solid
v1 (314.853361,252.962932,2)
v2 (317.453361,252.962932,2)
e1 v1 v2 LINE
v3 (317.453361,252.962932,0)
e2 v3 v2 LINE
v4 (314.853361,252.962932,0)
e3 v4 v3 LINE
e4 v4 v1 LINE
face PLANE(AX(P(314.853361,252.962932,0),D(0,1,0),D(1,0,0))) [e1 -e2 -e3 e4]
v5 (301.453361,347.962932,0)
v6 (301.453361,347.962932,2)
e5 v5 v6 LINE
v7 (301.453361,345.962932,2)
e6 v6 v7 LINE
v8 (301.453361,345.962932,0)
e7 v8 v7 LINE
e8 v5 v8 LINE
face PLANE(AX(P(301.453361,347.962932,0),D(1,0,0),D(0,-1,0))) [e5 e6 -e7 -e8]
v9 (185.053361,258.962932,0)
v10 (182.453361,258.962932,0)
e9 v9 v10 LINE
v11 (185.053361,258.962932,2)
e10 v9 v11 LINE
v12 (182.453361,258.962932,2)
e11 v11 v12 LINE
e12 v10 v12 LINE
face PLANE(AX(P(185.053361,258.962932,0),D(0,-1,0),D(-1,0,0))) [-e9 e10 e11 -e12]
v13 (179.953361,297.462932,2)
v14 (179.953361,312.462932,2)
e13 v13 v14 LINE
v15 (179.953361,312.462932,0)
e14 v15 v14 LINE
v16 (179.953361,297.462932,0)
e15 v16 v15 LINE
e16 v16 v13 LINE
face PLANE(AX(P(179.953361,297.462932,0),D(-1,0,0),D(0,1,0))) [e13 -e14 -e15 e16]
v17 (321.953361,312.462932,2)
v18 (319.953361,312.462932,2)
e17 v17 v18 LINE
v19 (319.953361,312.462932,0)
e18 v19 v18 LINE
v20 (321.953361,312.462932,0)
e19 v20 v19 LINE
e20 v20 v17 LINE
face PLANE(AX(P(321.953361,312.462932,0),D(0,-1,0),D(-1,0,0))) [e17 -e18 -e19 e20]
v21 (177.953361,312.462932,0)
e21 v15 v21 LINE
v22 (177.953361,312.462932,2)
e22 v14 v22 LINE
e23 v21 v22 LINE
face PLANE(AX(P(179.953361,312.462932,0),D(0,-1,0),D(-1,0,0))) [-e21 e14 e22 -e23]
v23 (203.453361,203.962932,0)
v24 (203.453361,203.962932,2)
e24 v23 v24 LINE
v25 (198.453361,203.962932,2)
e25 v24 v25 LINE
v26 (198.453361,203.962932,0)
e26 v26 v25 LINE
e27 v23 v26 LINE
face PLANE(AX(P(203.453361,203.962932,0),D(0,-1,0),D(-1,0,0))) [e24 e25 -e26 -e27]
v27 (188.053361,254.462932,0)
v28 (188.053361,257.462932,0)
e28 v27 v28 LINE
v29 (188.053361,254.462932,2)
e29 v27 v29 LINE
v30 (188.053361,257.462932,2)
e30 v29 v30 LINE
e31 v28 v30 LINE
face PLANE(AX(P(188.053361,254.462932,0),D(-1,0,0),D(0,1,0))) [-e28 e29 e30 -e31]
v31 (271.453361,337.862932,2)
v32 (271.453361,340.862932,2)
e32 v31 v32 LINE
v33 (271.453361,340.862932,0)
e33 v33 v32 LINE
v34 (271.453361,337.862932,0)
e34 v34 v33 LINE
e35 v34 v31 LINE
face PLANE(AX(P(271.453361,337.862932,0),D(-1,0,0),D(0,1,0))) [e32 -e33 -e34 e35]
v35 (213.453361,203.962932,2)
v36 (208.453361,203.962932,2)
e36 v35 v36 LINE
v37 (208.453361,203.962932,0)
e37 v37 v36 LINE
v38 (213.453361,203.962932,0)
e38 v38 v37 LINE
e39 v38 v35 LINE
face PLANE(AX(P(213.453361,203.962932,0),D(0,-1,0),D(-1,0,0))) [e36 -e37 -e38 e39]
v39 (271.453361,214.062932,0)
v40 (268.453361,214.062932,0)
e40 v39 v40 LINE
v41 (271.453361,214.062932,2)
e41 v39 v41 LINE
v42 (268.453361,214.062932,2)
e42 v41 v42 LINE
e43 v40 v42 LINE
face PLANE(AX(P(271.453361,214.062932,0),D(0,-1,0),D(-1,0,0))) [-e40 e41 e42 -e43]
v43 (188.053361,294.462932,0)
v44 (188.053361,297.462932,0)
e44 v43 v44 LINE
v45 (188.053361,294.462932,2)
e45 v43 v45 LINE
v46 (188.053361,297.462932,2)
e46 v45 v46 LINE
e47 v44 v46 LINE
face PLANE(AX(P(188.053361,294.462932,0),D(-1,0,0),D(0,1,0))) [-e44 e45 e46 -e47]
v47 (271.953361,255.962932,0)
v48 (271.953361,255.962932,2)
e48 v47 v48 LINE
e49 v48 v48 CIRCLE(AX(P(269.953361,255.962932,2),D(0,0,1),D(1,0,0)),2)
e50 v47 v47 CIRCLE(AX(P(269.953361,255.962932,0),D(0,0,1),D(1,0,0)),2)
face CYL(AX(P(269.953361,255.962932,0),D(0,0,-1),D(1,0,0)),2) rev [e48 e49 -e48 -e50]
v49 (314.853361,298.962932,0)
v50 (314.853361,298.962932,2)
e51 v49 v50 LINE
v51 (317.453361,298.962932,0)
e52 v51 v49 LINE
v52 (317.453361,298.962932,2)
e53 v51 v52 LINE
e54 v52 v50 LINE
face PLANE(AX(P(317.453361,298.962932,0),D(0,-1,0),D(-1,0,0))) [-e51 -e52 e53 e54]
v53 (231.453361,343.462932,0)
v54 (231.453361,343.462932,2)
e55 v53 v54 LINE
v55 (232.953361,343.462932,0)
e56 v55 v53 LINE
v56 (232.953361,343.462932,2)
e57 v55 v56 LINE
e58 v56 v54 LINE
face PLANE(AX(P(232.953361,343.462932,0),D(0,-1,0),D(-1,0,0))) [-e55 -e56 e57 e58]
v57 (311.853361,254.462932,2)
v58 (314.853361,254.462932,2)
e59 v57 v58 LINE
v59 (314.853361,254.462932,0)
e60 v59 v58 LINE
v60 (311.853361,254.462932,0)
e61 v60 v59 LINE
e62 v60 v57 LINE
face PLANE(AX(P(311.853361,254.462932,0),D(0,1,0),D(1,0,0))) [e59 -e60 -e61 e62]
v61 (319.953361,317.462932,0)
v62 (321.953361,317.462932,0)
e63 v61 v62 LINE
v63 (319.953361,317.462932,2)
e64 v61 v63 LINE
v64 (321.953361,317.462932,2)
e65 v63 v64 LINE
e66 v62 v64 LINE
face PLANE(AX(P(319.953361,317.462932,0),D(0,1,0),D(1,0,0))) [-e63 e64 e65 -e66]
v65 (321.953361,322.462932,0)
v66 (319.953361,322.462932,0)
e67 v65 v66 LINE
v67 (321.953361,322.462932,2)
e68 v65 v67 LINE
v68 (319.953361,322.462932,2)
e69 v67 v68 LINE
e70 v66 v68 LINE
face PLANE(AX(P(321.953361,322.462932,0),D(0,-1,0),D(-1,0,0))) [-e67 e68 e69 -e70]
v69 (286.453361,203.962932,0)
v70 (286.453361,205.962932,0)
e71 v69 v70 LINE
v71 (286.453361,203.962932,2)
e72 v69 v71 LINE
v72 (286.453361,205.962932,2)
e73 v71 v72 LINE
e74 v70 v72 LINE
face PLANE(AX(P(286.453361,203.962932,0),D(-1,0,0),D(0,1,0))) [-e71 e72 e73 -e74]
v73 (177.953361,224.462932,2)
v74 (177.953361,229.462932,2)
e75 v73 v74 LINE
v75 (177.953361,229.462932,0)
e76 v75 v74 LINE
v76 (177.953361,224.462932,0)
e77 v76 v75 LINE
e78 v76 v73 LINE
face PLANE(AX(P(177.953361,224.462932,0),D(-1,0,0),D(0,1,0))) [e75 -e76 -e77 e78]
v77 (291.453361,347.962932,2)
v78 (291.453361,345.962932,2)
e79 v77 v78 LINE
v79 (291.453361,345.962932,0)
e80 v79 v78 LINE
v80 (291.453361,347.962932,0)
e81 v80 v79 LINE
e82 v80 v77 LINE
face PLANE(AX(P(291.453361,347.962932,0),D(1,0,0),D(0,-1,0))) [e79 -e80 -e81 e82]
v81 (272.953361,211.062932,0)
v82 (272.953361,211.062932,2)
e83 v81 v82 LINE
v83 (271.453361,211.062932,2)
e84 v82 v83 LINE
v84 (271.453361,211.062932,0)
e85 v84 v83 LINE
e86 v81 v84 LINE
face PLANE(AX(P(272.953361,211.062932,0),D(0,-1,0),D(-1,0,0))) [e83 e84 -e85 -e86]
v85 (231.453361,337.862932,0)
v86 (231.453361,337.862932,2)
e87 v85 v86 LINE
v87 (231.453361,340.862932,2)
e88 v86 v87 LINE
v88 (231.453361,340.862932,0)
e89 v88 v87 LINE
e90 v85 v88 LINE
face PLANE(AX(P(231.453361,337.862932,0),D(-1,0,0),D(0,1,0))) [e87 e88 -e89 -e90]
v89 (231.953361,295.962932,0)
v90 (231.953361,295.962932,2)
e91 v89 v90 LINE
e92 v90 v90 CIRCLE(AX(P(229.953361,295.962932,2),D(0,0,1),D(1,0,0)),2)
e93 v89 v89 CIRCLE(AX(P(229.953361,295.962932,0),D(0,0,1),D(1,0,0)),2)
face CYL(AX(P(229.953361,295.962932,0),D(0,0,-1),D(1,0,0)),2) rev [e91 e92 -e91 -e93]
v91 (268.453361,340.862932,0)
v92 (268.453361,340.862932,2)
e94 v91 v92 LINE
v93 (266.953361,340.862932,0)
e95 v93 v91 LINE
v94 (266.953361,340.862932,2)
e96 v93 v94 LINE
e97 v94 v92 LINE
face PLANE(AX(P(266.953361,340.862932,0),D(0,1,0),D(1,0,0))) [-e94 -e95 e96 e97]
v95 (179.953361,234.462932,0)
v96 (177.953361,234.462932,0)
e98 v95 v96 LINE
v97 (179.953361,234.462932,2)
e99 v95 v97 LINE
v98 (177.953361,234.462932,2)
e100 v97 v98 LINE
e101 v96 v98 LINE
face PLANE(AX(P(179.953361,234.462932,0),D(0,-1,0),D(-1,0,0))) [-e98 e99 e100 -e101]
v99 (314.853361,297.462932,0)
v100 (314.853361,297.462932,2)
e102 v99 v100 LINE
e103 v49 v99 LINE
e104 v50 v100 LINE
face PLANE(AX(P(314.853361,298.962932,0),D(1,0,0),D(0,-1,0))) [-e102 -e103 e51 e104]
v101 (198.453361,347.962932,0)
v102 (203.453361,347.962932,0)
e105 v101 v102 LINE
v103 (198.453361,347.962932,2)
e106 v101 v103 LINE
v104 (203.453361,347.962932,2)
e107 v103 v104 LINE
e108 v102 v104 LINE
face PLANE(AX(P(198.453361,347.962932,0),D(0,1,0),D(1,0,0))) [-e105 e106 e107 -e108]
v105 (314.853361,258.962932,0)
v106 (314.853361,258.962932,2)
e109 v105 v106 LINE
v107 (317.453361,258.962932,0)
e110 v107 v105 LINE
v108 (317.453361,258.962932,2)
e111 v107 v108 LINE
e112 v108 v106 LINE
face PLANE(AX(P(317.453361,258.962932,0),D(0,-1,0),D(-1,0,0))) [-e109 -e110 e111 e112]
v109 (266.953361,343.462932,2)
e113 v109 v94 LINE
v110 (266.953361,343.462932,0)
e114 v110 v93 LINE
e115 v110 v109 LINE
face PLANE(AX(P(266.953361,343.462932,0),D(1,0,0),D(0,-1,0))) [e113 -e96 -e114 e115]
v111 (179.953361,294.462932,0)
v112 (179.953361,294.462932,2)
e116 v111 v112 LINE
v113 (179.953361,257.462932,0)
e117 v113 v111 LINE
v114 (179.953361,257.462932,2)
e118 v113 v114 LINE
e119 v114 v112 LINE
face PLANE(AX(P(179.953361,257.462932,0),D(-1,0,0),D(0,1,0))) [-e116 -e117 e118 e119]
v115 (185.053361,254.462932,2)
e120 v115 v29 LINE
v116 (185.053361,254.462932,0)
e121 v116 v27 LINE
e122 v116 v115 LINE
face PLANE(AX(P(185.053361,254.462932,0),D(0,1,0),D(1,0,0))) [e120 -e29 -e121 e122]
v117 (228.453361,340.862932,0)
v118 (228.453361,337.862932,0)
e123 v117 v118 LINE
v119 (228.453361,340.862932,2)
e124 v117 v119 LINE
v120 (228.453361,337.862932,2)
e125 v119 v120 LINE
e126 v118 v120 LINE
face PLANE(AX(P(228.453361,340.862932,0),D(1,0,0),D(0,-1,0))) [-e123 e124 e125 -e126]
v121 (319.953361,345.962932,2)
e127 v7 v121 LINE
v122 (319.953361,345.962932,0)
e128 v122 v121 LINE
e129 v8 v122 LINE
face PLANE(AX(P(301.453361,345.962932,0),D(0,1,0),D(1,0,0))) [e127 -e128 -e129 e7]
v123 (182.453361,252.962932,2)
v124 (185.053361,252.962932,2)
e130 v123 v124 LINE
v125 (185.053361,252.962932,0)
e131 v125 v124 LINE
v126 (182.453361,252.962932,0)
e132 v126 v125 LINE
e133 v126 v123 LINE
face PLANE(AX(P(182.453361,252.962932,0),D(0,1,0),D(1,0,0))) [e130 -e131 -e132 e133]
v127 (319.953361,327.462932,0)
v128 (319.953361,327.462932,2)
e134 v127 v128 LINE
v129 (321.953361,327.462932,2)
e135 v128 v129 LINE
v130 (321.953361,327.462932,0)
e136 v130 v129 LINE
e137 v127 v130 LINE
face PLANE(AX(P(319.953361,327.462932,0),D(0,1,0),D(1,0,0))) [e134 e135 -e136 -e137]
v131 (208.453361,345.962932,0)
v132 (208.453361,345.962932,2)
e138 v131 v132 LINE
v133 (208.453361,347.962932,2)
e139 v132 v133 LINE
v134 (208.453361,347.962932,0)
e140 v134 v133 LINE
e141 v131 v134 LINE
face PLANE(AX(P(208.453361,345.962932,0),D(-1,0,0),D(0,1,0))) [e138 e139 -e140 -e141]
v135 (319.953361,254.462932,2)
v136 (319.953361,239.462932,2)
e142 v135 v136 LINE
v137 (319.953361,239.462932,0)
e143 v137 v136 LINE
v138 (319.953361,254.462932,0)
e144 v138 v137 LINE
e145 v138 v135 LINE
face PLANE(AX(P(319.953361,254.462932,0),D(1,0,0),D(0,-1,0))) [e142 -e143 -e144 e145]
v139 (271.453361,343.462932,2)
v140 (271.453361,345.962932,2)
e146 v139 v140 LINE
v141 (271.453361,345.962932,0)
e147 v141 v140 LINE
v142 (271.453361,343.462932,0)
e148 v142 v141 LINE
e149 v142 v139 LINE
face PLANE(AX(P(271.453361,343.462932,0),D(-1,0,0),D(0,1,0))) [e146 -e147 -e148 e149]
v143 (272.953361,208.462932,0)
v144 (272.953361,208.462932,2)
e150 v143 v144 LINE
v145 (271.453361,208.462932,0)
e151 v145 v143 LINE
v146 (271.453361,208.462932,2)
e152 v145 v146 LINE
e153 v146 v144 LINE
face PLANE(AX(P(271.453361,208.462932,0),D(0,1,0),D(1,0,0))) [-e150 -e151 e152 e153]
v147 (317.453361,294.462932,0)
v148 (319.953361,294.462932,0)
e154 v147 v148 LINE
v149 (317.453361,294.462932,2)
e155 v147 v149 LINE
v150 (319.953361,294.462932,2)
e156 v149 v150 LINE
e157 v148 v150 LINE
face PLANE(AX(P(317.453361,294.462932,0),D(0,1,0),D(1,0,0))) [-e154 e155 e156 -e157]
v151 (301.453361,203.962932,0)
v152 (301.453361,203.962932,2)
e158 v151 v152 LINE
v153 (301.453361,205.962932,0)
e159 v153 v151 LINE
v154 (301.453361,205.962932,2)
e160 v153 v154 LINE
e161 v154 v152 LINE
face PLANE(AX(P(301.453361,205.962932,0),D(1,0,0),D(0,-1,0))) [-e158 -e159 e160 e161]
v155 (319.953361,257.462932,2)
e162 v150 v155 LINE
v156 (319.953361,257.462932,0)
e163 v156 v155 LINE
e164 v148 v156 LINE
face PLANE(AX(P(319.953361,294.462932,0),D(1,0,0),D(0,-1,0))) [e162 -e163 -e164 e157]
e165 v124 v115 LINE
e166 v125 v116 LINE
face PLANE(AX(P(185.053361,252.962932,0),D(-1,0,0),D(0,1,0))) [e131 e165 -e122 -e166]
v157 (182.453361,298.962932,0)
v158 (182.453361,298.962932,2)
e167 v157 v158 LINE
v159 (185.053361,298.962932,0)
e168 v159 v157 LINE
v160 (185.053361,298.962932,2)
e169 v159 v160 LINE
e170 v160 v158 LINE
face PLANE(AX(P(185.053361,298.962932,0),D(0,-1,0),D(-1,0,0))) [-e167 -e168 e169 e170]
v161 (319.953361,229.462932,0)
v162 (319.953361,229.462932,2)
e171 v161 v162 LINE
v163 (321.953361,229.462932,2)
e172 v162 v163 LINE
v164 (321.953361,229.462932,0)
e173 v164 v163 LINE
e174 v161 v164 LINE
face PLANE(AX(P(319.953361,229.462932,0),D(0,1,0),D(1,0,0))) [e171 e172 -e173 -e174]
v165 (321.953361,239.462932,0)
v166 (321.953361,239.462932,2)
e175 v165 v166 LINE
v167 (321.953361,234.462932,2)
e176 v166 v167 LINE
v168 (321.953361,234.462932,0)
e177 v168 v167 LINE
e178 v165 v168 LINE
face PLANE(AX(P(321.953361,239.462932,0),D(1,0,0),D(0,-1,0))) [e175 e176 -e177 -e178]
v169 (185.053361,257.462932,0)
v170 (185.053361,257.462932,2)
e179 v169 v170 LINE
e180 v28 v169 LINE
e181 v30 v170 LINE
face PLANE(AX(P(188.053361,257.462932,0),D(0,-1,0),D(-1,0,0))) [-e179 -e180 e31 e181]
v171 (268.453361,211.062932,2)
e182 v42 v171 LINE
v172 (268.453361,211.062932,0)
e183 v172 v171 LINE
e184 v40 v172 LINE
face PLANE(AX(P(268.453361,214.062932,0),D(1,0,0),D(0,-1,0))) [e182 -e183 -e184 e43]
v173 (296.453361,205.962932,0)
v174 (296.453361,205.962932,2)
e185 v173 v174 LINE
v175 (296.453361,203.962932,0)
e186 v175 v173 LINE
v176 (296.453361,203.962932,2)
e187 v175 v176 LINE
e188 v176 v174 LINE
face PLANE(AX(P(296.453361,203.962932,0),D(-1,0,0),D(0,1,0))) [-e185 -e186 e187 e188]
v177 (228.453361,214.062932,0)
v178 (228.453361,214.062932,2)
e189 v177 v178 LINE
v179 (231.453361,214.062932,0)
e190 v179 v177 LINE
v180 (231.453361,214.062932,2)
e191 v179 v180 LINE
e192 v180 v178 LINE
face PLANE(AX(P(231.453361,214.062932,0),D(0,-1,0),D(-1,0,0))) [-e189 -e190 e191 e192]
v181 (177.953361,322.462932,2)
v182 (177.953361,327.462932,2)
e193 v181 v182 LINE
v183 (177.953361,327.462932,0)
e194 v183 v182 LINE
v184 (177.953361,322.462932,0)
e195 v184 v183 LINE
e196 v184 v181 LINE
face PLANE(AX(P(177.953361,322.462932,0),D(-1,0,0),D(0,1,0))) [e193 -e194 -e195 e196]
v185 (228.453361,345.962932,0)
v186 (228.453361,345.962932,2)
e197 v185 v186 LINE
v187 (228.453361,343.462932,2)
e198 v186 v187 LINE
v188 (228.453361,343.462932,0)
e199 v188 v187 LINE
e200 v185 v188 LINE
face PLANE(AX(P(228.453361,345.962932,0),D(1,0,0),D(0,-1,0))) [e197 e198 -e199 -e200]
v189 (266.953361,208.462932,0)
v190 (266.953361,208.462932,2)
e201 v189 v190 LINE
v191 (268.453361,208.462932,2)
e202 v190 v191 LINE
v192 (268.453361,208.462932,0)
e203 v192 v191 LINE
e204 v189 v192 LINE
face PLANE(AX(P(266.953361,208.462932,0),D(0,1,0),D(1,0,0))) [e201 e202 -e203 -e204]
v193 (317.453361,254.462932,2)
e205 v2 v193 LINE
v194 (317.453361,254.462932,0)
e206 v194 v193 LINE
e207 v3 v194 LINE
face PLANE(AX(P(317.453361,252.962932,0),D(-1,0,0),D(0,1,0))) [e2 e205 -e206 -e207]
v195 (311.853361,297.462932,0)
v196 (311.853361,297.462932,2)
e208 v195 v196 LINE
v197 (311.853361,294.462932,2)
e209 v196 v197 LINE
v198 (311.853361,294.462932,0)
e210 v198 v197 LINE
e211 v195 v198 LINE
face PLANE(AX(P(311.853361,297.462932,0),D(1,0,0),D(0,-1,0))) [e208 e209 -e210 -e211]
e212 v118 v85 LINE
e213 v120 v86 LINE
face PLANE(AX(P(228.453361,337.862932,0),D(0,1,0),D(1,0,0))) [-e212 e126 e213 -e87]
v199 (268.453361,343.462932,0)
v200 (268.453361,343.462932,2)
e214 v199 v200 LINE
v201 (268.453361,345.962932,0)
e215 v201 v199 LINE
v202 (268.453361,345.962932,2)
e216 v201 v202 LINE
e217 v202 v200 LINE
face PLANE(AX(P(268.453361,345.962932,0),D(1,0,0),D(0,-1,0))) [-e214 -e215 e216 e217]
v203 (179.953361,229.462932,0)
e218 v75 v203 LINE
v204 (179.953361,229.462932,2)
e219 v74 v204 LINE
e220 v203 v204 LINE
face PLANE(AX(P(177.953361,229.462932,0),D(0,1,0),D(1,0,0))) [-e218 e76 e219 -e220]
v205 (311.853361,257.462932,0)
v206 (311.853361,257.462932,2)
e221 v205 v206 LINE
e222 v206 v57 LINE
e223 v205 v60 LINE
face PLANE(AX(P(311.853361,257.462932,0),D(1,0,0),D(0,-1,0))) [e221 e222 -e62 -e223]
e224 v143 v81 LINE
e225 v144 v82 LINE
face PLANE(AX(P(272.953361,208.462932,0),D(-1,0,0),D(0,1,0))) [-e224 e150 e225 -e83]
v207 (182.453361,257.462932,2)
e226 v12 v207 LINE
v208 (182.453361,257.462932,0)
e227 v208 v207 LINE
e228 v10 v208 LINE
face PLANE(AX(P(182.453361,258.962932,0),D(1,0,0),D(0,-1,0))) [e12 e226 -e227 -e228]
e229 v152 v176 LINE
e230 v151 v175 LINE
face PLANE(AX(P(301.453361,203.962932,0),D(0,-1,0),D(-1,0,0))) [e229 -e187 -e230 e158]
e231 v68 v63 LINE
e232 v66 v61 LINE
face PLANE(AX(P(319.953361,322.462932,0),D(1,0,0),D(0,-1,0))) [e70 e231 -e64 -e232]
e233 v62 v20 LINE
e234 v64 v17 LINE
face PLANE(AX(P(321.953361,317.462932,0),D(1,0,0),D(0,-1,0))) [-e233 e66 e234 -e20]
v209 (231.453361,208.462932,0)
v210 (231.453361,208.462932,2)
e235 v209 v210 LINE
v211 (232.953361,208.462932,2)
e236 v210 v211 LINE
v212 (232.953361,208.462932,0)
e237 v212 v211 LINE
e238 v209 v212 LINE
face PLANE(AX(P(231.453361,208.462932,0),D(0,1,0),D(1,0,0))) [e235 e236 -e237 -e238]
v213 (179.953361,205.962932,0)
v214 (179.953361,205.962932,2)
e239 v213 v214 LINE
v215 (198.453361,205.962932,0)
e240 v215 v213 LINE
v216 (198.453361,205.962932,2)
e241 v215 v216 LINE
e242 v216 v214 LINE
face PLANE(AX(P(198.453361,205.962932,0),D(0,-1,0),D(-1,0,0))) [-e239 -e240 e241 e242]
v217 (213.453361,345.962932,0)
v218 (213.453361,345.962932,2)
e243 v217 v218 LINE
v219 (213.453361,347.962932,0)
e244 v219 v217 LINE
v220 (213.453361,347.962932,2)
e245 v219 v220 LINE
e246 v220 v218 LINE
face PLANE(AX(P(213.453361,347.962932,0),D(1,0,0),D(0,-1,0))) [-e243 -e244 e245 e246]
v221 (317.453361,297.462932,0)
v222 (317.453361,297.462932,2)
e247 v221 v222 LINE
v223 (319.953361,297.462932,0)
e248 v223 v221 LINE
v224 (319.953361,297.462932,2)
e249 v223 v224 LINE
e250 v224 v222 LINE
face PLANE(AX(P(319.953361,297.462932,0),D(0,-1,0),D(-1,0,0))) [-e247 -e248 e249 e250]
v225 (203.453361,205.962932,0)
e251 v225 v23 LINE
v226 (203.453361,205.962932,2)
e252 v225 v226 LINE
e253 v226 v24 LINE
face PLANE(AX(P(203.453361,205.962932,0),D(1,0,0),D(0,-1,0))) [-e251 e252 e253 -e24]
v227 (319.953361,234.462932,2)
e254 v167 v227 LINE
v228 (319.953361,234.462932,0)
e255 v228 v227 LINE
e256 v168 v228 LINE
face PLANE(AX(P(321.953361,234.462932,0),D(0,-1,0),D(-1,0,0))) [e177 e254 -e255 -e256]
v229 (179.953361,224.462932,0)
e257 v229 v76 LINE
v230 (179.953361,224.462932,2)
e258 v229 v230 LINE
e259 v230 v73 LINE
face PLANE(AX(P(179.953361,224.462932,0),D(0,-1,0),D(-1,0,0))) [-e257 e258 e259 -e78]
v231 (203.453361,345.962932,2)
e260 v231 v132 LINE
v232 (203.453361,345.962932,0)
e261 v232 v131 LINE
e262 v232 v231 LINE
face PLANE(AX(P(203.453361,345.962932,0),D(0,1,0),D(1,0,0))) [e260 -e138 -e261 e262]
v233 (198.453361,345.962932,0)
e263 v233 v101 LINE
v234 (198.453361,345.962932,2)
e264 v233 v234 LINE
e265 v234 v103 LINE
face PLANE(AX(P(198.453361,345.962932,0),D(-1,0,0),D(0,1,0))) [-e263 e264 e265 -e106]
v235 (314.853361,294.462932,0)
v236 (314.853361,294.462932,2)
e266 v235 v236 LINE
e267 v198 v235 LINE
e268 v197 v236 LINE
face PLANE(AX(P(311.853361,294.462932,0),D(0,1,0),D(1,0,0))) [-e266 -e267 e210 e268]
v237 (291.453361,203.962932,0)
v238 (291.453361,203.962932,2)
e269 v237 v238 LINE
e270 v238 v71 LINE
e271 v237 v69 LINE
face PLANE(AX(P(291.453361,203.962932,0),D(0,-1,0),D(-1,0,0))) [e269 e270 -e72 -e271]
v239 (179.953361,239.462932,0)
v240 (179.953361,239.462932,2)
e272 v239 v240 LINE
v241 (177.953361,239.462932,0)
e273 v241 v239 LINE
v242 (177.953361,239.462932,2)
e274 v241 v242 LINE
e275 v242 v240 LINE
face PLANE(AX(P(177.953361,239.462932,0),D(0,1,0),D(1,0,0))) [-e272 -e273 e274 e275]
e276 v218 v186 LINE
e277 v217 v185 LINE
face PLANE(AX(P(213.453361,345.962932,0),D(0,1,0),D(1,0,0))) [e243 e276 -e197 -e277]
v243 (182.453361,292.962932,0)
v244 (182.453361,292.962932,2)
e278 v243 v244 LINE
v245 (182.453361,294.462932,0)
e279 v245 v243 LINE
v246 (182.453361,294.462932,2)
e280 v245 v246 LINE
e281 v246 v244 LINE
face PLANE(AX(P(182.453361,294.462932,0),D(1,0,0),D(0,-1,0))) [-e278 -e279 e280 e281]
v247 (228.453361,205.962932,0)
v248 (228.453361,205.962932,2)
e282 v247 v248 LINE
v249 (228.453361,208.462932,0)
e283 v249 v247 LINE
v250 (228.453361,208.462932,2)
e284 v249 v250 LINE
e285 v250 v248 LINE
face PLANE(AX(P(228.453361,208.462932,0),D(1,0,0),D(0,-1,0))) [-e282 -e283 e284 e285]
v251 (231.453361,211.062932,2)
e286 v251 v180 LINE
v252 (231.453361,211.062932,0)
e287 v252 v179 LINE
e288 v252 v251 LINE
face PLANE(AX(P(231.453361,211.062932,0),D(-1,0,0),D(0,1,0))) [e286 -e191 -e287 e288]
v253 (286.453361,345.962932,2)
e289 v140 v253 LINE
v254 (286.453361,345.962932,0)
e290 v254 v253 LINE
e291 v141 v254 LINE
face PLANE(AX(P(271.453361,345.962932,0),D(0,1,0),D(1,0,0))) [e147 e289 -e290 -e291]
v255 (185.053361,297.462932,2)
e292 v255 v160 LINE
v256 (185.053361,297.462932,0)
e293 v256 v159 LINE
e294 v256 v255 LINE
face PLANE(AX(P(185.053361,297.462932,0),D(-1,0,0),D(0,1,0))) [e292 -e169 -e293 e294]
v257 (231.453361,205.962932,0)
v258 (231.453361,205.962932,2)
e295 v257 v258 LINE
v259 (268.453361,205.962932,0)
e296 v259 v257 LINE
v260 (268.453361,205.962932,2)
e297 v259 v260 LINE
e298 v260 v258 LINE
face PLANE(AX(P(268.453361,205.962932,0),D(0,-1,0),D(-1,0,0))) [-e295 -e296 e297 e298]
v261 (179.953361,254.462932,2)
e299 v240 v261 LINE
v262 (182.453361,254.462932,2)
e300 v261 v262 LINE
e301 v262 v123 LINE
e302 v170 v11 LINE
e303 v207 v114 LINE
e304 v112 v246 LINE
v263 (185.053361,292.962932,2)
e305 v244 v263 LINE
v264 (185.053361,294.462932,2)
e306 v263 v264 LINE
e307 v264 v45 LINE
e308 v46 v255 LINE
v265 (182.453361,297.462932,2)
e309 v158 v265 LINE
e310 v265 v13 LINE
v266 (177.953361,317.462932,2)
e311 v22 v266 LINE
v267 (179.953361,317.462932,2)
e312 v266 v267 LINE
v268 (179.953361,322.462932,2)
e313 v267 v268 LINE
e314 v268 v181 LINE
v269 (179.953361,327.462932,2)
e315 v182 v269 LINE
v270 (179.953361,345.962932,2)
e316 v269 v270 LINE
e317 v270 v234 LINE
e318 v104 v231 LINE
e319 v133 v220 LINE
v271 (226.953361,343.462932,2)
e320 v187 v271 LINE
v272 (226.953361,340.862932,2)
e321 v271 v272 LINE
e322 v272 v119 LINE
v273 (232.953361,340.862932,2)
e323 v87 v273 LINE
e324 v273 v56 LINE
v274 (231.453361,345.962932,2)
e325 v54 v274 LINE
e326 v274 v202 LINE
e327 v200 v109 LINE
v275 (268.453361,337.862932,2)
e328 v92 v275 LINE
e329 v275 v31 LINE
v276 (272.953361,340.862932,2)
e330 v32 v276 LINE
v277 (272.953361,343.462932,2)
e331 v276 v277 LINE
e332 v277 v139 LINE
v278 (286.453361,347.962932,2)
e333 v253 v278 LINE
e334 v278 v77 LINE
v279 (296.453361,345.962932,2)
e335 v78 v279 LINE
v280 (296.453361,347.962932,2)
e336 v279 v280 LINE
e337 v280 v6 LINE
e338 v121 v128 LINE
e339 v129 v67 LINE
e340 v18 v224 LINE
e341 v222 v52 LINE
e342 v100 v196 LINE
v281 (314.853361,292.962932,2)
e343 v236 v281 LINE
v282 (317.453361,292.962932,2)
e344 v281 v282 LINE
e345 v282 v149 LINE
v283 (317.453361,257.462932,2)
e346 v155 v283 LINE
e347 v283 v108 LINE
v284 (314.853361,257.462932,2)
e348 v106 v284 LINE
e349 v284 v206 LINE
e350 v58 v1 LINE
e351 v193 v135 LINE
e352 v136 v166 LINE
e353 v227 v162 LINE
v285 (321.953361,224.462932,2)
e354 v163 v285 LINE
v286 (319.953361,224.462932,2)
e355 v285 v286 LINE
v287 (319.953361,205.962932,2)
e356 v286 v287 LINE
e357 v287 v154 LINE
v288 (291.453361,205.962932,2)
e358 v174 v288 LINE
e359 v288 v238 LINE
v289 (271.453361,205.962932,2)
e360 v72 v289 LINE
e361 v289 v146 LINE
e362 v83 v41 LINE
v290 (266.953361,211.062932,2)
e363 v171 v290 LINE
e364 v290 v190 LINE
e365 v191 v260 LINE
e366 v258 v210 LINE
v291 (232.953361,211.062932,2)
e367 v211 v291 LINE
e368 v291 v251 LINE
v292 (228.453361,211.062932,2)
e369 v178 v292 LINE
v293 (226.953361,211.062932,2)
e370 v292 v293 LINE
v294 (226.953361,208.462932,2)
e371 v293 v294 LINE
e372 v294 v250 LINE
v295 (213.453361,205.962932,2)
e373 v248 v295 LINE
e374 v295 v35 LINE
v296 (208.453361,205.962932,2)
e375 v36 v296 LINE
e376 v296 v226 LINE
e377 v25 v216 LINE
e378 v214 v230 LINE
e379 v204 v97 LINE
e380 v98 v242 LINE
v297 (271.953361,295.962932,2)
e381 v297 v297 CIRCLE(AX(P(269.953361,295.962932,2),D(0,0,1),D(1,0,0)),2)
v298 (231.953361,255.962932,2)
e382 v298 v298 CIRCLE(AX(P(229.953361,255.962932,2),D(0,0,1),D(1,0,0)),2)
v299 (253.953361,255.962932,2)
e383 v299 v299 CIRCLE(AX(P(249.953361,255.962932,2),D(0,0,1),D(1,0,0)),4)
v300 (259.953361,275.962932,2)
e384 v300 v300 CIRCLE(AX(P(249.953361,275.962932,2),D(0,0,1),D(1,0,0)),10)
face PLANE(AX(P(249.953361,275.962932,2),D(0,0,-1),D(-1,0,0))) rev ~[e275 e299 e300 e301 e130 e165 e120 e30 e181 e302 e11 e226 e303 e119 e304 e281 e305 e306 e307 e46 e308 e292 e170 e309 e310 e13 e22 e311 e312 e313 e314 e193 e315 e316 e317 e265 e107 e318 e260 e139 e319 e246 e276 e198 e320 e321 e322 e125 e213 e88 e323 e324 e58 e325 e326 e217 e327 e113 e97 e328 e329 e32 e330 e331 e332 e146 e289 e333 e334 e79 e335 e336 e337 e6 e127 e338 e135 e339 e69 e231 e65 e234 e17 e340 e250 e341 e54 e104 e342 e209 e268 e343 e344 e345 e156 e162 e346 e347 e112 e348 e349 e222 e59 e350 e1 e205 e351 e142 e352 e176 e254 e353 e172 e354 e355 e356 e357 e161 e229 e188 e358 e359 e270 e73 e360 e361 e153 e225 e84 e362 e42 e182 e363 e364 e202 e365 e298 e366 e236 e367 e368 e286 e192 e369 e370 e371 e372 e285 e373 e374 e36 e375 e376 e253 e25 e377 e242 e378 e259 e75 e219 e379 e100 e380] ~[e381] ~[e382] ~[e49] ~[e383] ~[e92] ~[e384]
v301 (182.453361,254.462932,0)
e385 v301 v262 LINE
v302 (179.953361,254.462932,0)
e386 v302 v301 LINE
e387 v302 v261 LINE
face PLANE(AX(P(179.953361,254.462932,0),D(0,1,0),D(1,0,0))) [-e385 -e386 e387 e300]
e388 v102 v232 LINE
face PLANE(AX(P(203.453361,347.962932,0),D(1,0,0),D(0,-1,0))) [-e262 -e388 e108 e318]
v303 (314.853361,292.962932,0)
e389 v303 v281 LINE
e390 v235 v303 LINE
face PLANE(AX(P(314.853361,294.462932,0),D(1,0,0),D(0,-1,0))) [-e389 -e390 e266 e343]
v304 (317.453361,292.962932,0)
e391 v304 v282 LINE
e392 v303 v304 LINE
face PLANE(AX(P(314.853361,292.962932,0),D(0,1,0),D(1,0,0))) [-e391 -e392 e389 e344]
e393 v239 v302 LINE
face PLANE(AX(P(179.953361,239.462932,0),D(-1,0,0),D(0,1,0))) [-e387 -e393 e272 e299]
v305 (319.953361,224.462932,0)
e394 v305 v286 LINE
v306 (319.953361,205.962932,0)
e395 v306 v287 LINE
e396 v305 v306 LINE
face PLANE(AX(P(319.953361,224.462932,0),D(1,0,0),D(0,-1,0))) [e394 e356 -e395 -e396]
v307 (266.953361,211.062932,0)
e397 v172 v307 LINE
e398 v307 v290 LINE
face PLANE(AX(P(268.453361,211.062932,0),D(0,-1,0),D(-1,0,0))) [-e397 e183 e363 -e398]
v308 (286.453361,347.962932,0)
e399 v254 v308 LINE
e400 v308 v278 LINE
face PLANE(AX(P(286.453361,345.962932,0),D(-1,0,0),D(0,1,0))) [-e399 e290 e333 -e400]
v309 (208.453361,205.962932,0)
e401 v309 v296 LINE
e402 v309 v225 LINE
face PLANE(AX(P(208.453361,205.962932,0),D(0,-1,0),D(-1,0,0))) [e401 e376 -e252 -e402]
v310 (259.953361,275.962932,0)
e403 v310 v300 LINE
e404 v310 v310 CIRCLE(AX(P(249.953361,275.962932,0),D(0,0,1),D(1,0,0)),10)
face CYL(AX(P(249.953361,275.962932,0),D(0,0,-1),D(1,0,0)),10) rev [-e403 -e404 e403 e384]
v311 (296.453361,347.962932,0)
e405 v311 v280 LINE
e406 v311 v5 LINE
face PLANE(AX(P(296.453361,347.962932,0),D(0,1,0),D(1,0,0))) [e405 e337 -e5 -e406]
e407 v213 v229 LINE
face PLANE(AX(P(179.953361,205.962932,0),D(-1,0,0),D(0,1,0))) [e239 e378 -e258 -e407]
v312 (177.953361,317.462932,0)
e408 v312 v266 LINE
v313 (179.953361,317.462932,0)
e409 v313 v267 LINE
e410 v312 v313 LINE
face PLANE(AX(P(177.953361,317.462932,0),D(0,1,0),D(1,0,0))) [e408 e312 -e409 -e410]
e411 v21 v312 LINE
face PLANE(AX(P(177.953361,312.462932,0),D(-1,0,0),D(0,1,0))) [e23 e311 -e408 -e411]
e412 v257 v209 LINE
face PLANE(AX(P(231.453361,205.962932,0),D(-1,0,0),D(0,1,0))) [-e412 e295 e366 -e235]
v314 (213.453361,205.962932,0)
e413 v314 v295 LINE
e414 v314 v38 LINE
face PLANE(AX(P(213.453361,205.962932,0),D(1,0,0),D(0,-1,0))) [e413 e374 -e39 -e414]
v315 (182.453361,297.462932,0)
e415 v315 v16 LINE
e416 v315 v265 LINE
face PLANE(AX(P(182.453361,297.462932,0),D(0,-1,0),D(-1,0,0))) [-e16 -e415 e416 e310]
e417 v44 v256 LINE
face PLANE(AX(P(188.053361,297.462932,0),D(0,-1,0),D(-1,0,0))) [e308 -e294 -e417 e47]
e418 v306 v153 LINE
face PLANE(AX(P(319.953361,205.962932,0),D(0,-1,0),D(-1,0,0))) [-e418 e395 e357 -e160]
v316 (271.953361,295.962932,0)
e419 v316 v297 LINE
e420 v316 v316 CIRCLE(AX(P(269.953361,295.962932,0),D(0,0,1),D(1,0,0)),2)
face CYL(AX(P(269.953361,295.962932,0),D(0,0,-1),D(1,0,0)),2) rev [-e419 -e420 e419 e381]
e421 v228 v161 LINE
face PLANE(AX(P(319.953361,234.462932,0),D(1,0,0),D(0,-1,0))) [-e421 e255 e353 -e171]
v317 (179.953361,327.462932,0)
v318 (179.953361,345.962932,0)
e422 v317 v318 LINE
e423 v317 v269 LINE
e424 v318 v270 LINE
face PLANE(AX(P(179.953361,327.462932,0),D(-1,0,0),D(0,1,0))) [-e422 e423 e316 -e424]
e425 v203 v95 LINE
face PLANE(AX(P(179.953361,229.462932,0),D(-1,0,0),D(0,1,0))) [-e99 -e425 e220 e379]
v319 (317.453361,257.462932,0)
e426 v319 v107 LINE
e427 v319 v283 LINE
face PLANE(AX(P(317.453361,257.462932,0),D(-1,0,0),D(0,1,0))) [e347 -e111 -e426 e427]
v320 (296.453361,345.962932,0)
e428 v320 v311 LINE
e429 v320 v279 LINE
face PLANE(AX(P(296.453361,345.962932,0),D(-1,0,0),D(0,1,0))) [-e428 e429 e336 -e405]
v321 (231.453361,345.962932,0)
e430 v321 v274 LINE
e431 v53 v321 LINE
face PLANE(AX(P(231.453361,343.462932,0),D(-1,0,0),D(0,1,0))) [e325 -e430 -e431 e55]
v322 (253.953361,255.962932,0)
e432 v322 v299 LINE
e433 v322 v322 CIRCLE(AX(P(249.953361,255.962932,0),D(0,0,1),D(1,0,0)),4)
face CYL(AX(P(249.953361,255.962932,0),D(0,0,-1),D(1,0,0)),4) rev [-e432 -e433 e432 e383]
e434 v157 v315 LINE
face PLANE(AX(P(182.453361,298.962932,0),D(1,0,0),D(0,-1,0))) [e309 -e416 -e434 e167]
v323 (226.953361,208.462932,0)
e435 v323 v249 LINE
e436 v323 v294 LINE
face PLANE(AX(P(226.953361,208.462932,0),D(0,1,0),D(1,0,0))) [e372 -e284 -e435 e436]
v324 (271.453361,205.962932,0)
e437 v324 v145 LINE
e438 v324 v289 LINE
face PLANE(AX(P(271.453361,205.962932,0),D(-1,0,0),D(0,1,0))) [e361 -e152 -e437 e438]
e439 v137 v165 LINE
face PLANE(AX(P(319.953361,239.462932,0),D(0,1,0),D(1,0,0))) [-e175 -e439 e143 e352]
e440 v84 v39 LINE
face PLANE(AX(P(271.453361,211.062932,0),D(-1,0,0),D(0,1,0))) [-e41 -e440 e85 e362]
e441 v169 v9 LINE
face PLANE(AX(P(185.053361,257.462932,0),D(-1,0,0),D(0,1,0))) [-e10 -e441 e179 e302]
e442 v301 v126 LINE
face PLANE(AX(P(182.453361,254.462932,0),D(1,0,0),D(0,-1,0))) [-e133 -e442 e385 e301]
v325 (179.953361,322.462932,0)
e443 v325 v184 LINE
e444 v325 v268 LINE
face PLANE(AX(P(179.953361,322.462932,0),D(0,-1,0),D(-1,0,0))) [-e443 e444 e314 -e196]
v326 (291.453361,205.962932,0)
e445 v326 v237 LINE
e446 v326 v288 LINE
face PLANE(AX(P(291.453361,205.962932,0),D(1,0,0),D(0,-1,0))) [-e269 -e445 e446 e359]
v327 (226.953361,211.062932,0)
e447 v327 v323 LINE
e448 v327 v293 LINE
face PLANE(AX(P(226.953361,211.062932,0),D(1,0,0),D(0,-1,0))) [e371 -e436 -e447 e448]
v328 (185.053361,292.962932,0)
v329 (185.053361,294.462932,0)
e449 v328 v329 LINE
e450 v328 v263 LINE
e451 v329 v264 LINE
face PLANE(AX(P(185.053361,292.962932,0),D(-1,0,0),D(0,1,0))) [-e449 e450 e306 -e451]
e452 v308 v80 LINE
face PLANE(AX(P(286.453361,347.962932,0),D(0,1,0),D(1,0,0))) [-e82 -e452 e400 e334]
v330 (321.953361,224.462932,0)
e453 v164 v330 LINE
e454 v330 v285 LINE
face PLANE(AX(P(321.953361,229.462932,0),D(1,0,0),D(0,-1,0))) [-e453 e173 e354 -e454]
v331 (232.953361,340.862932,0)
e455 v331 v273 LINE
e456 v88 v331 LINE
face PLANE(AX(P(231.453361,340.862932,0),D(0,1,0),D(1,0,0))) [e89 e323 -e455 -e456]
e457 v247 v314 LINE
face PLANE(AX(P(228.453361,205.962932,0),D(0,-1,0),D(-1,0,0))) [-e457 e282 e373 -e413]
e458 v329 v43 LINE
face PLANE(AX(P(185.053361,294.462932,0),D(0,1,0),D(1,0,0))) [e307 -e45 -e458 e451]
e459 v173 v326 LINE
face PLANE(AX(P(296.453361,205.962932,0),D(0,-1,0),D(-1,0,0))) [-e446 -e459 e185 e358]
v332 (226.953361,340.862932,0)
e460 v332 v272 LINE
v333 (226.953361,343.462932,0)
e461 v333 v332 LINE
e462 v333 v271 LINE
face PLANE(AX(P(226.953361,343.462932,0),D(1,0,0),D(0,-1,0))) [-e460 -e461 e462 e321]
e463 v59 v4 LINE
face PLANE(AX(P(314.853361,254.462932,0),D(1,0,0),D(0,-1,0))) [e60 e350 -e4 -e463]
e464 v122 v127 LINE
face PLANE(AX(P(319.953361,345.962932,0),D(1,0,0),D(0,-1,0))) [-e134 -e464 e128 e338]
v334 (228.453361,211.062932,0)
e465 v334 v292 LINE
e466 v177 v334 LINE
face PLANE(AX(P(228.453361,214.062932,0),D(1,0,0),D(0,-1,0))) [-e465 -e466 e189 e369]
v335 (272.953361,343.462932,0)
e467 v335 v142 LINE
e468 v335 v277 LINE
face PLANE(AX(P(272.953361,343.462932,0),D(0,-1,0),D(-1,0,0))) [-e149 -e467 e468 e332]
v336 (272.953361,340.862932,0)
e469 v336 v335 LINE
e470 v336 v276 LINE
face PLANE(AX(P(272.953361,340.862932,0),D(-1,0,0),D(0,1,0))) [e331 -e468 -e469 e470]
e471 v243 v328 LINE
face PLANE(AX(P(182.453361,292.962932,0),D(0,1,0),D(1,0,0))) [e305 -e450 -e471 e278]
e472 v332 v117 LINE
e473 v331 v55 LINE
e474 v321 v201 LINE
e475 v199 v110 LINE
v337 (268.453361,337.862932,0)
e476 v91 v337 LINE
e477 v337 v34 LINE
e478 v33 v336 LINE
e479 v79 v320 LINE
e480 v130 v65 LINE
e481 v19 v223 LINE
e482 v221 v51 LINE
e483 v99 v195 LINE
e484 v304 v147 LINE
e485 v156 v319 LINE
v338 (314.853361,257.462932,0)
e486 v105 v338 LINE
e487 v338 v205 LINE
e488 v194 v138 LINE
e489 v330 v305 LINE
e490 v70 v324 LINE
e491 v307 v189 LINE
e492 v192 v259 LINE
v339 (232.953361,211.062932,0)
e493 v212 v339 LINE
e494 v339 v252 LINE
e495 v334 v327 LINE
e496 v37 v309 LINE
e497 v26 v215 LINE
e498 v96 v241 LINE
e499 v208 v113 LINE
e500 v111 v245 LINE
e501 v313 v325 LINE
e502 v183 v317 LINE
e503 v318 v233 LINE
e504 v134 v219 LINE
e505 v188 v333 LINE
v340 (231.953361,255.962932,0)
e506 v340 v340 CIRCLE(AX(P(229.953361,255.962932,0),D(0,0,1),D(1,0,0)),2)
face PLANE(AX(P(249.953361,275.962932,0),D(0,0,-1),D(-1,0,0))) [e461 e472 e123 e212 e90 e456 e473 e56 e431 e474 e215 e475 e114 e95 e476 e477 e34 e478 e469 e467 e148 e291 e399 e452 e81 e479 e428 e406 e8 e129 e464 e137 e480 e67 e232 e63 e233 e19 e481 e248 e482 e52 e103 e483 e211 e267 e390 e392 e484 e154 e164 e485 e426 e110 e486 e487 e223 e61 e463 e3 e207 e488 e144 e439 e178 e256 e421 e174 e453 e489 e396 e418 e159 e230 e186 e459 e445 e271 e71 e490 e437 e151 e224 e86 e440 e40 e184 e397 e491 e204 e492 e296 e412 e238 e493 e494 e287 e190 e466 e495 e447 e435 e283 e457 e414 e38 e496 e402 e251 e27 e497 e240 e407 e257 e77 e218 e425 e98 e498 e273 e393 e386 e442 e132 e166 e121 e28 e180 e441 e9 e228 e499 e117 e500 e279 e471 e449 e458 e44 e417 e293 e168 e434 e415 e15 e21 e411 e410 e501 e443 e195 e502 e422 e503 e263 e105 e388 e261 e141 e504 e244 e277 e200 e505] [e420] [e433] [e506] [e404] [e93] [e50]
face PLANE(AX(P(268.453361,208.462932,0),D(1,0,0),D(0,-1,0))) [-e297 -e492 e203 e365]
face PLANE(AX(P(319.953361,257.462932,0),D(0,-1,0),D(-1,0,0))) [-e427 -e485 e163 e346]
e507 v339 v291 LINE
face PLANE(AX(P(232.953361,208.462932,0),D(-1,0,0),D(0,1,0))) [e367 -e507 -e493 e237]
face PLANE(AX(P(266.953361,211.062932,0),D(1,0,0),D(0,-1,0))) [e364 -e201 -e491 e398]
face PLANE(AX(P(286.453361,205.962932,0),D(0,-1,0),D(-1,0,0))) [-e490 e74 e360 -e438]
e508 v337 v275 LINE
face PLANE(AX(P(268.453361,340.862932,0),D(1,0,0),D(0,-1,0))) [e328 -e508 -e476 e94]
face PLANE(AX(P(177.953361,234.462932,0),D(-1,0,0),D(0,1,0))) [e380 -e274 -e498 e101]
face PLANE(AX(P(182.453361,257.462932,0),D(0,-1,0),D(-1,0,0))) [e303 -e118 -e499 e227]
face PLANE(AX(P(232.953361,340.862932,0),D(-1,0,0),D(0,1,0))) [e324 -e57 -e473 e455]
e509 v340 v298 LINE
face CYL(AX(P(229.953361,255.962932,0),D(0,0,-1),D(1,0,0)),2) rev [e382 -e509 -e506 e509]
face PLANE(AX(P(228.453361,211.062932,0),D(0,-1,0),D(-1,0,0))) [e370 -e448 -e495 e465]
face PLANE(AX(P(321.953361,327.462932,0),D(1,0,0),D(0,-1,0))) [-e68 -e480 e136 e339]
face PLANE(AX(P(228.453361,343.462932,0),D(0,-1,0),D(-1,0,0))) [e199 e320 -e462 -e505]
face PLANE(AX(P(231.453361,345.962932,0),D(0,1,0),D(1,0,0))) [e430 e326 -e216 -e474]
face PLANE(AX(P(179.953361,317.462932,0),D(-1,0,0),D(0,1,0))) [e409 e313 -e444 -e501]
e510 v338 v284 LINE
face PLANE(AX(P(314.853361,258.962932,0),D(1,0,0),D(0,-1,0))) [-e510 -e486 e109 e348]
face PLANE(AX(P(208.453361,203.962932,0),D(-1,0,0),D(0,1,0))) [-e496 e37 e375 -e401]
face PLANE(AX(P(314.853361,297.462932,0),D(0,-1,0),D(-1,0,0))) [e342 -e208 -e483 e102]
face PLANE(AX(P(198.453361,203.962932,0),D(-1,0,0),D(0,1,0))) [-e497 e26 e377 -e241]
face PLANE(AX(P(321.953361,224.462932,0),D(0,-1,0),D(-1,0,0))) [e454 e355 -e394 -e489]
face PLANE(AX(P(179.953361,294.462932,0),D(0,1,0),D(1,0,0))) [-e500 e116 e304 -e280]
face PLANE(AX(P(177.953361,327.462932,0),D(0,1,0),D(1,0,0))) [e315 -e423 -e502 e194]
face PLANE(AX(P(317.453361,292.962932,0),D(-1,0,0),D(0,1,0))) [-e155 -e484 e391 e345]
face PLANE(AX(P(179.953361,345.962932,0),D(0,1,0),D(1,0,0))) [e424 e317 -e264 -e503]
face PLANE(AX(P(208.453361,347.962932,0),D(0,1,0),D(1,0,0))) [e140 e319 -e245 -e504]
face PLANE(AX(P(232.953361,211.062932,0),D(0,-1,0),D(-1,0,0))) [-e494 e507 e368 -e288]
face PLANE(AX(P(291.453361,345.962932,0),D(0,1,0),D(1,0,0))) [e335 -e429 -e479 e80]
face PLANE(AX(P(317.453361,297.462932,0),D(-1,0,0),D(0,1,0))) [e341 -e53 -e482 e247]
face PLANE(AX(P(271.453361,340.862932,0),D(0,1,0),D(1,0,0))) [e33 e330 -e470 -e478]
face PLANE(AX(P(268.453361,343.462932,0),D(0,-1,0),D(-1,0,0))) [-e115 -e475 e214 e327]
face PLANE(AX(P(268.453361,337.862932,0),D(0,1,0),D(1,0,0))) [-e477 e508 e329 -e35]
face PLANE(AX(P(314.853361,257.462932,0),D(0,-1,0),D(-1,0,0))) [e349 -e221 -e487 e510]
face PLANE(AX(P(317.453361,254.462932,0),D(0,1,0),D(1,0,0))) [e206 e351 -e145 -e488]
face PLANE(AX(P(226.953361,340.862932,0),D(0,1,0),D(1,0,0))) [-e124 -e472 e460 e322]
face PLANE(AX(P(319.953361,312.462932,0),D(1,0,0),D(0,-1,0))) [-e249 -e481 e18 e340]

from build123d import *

# Parameters (mm, degrees)
SKETCH_1_R      = 10
SKETCH_1_R_2    = 4
SKETCH_1_R_3    = 2
EXTRUDE_1_DEPTH = 2


with BuildPart() as part:
    # 草图1 → 凸台-拉伸1 (new body)
    with BuildSketch(Plane.XY):
        Polygon((317.453360513, 257.462931603), (317.453360513, 258.962931603), (314.853360513, 258.962931603), (314.853360513, 257.462931603), (311.853360513, 257.462931603), (311.853360513, 254.462931603), (314.853360513, 254.462931603), (314.853360513, 252.962931603), (317.453360513, 252.962931603), (317.453360513, 254.462931603), (319.953360513, 254.462931603), (319.953360513, 239.462931603), (321.953360513, 239.462931603), (321.953360513, 234.462931603), (319.953360513, 234.462931603), (319.953360513, 229.462931603), (321.953360513, 229.462931603), (321.953360513, 224.462931603), (319.953360513, 224.462931603), (319.953360513, 205.962931603), (301.453360513, 205.962931603), (301.453360513, 203.962931603), (296.453360513, 203.962931603), (296.453360513, 205.962931603), (291.453360513, 205.962931603), (291.453360513, 203.962931603), (286.453360513, 203.962931603), (286.453360513, 205.962931603), (271.453360513, 205.962931603), (271.453360513, 208.462931603), (272.953360513, 208.462931603), (272.953360513, 211.062931603), (271.453360513, 211.062931603), (271.453360513, 214.062931603), (268.453360513, 214.062931603), (268.453360513, 211.062931603), (266.953360513, 211.062931603), (266.953360513, 208.462931603), (268.453360513, 208.462931603), (268.453360513, 205.962931603), (231.453360513, 205.962931603), (231.453360513, 208.462931603), (232.953360513, 208.462931603), (232.953360513, 211.062931603), (231.453360513, 211.062931603), (231.453360513, 214.062931603), (228.453360513, 214.062931603), (228.453360513, 211.062931603), (226.953360513, 211.062931603), (226.953360513, 208.462931603), (228.453360513, 208.462931603), (228.453360513, 205.962931603), (213.453360513, 205.962931603), (213.453360513, 203.962931603), (208.453360513, 203.962931603), (208.453360513, 205.962931603), (203.453360513, 205.962931603), (203.453360513, 203.962931603), (198.453360513, 203.962931603), (198.453360513, 205.962931603), (179.953360513, 205.962931603), (179.953360513, 224.462931603), (177.953360513, 224.462931603), (177.953360513, 229.462931603), (179.953360513, 229.462931603), (179.953360513, 234.462931603), (177.953360513, 234.462931603), (177.953360513, 239.462931603), (179.953360513, 239.462931603), (179.953360513, 254.462931603), (182.453360513, 254.462931603), (182.453360513, 252.962931603), (185.053360513, 252.962931603), (185.053360513, 254.462931603), (188.053360513, 254.462931603), (188.053360513, 257.462931603), (185.053360513, 257.462931603), (185.053360513, 258.962931603), (182.453360513, 258.962931603), (182.453360513, 257.462931603), (179.953360513, 257.462931603), (179.953360513, 294.462931603), (182.453360513, 294.462931603), (182.453360513, 292.962931603), (185.053360513, 292.962931603), (185.053360513, 294.462931603), (188.053360513, 294.462931603), (188.053360513, 297.462931603), (185.053360513, 297.462931603), (185.053360513, 298.962931603), (182.453360513, 298.962931603), (182.453360513, 297.462931603), (179.953360513, 297.462931603), (179.953360513, 312.462931603), (177.953360513, 312.462931603), (177.953360513, 317.462931603), (179.953360513, 317.462931603), (179.953360513, 322.462931603), (177.953360513, 322.462931603), (177.953360513, 327.462931603), (179.953360513, 327.462931603), (179.953360513, 345.962931603), (198.453360513, 345.962931603), (198.453360513, 347.962931603), (203.453360513, 347.962931603), (203.453360513, 345.962931603), (208.453360513, 345.962931603), (208.453360513, 347.962931603), (213.453360513, 347.962931603), (213.453360513, 345.962931603), (228.453360513, 345.962931603), (228.453360513, 343.462931603), (226.953360513, 343.462931603), (226.953360513, 340.862931603), (228.453360513, 340.862931603), (228.453360513, 337.862931603), (231.453360513, 337.862931603), (231.453360513, 340.862931603), (232.953360513, 340.862931603), (232.953360513, 343.462931603), (231.453360513, 343.462931603), (231.453360513, 345.962931603), (268.453360513, 345.962931603), (268.453360513, 343.462931603), (266.953360513, 343.462931603), (266.953360513, 340.862931603), (268.453360513, 340.862931603), (268.453360513, 337.862931603), (271.453360513, 337.862931603), (271.453360513, 340.862931603), (272.953360513, 340.862931603), (272.953360513, 343.462931603), (271.453360513, 343.462931603), (271.453360513, 345.962931603), (286.453360513, 345.962931603), (286.453360513, 347.962931603), (291.453360513, 347.962931603), (291.453360513, 345.962931603), (296.453360513, 345.962931603), (296.453360513, 347.962931603), (301.453360513, 347.962931603), (301.453360513, 345.962931603), (319.953360513, 345.962931603), (319.953360513, 327.462931603), (321.953360513, 327.462931603), (321.953360513, 322.462931603), (319.953360513, 322.462931603), (319.953360513, 317.462931603), (321.953360513, 317.462931603), (321.953360513, 312.462931603), (319.953360513, 312.462931603), (319.953360513, 297.462931603), (317.453360513, 297.462931603), (317.453360513, 298.962931603), (314.853360513, 298.962931603), (314.853360513, 297.462931603), (311.853360513, 297.462931603), (311.853360513, 294.462931603), (314.853360513, 294.462931603), (314.853360513, 292.962931603), (317.453360513, 292.962931603), (317.453360513, 294.462931603), (319.953360513, 294.462931603), (319.953360513, 257.462931603), align=None)
        with Locations((249.953360513, 275.962931603)):
            Circle(SKETCH_1_R, mode=Mode.SUBTRACT)
        with Locations((249.953360513, 255.962931603)):
            Circle(SKETCH_1_R_2, mode=Mode.SUBTRACT)
        with Locations((229.953360513, 255.962931603)):
            Circle(SKETCH_1_R_3, mode=Mode.SUBTRACT)
        with Locations((229.953360513, 295.962931603)):
            Circle(SKETCH_1_R_3, mode=Mode.SUBTRACT)
        with Locations((269.953360513, 295.962931603)):
            Circle(SKETCH_1_R_3, mode=Mode.SUBTRACT)
        with Locations((269.953360513, 255.962931603)):
            Circle(SKETCH_1_R_3, mode=Mode.SUBTRACT)
    extrude(amount=EXTRUDE_1_DEPTH)


solid = part.part
